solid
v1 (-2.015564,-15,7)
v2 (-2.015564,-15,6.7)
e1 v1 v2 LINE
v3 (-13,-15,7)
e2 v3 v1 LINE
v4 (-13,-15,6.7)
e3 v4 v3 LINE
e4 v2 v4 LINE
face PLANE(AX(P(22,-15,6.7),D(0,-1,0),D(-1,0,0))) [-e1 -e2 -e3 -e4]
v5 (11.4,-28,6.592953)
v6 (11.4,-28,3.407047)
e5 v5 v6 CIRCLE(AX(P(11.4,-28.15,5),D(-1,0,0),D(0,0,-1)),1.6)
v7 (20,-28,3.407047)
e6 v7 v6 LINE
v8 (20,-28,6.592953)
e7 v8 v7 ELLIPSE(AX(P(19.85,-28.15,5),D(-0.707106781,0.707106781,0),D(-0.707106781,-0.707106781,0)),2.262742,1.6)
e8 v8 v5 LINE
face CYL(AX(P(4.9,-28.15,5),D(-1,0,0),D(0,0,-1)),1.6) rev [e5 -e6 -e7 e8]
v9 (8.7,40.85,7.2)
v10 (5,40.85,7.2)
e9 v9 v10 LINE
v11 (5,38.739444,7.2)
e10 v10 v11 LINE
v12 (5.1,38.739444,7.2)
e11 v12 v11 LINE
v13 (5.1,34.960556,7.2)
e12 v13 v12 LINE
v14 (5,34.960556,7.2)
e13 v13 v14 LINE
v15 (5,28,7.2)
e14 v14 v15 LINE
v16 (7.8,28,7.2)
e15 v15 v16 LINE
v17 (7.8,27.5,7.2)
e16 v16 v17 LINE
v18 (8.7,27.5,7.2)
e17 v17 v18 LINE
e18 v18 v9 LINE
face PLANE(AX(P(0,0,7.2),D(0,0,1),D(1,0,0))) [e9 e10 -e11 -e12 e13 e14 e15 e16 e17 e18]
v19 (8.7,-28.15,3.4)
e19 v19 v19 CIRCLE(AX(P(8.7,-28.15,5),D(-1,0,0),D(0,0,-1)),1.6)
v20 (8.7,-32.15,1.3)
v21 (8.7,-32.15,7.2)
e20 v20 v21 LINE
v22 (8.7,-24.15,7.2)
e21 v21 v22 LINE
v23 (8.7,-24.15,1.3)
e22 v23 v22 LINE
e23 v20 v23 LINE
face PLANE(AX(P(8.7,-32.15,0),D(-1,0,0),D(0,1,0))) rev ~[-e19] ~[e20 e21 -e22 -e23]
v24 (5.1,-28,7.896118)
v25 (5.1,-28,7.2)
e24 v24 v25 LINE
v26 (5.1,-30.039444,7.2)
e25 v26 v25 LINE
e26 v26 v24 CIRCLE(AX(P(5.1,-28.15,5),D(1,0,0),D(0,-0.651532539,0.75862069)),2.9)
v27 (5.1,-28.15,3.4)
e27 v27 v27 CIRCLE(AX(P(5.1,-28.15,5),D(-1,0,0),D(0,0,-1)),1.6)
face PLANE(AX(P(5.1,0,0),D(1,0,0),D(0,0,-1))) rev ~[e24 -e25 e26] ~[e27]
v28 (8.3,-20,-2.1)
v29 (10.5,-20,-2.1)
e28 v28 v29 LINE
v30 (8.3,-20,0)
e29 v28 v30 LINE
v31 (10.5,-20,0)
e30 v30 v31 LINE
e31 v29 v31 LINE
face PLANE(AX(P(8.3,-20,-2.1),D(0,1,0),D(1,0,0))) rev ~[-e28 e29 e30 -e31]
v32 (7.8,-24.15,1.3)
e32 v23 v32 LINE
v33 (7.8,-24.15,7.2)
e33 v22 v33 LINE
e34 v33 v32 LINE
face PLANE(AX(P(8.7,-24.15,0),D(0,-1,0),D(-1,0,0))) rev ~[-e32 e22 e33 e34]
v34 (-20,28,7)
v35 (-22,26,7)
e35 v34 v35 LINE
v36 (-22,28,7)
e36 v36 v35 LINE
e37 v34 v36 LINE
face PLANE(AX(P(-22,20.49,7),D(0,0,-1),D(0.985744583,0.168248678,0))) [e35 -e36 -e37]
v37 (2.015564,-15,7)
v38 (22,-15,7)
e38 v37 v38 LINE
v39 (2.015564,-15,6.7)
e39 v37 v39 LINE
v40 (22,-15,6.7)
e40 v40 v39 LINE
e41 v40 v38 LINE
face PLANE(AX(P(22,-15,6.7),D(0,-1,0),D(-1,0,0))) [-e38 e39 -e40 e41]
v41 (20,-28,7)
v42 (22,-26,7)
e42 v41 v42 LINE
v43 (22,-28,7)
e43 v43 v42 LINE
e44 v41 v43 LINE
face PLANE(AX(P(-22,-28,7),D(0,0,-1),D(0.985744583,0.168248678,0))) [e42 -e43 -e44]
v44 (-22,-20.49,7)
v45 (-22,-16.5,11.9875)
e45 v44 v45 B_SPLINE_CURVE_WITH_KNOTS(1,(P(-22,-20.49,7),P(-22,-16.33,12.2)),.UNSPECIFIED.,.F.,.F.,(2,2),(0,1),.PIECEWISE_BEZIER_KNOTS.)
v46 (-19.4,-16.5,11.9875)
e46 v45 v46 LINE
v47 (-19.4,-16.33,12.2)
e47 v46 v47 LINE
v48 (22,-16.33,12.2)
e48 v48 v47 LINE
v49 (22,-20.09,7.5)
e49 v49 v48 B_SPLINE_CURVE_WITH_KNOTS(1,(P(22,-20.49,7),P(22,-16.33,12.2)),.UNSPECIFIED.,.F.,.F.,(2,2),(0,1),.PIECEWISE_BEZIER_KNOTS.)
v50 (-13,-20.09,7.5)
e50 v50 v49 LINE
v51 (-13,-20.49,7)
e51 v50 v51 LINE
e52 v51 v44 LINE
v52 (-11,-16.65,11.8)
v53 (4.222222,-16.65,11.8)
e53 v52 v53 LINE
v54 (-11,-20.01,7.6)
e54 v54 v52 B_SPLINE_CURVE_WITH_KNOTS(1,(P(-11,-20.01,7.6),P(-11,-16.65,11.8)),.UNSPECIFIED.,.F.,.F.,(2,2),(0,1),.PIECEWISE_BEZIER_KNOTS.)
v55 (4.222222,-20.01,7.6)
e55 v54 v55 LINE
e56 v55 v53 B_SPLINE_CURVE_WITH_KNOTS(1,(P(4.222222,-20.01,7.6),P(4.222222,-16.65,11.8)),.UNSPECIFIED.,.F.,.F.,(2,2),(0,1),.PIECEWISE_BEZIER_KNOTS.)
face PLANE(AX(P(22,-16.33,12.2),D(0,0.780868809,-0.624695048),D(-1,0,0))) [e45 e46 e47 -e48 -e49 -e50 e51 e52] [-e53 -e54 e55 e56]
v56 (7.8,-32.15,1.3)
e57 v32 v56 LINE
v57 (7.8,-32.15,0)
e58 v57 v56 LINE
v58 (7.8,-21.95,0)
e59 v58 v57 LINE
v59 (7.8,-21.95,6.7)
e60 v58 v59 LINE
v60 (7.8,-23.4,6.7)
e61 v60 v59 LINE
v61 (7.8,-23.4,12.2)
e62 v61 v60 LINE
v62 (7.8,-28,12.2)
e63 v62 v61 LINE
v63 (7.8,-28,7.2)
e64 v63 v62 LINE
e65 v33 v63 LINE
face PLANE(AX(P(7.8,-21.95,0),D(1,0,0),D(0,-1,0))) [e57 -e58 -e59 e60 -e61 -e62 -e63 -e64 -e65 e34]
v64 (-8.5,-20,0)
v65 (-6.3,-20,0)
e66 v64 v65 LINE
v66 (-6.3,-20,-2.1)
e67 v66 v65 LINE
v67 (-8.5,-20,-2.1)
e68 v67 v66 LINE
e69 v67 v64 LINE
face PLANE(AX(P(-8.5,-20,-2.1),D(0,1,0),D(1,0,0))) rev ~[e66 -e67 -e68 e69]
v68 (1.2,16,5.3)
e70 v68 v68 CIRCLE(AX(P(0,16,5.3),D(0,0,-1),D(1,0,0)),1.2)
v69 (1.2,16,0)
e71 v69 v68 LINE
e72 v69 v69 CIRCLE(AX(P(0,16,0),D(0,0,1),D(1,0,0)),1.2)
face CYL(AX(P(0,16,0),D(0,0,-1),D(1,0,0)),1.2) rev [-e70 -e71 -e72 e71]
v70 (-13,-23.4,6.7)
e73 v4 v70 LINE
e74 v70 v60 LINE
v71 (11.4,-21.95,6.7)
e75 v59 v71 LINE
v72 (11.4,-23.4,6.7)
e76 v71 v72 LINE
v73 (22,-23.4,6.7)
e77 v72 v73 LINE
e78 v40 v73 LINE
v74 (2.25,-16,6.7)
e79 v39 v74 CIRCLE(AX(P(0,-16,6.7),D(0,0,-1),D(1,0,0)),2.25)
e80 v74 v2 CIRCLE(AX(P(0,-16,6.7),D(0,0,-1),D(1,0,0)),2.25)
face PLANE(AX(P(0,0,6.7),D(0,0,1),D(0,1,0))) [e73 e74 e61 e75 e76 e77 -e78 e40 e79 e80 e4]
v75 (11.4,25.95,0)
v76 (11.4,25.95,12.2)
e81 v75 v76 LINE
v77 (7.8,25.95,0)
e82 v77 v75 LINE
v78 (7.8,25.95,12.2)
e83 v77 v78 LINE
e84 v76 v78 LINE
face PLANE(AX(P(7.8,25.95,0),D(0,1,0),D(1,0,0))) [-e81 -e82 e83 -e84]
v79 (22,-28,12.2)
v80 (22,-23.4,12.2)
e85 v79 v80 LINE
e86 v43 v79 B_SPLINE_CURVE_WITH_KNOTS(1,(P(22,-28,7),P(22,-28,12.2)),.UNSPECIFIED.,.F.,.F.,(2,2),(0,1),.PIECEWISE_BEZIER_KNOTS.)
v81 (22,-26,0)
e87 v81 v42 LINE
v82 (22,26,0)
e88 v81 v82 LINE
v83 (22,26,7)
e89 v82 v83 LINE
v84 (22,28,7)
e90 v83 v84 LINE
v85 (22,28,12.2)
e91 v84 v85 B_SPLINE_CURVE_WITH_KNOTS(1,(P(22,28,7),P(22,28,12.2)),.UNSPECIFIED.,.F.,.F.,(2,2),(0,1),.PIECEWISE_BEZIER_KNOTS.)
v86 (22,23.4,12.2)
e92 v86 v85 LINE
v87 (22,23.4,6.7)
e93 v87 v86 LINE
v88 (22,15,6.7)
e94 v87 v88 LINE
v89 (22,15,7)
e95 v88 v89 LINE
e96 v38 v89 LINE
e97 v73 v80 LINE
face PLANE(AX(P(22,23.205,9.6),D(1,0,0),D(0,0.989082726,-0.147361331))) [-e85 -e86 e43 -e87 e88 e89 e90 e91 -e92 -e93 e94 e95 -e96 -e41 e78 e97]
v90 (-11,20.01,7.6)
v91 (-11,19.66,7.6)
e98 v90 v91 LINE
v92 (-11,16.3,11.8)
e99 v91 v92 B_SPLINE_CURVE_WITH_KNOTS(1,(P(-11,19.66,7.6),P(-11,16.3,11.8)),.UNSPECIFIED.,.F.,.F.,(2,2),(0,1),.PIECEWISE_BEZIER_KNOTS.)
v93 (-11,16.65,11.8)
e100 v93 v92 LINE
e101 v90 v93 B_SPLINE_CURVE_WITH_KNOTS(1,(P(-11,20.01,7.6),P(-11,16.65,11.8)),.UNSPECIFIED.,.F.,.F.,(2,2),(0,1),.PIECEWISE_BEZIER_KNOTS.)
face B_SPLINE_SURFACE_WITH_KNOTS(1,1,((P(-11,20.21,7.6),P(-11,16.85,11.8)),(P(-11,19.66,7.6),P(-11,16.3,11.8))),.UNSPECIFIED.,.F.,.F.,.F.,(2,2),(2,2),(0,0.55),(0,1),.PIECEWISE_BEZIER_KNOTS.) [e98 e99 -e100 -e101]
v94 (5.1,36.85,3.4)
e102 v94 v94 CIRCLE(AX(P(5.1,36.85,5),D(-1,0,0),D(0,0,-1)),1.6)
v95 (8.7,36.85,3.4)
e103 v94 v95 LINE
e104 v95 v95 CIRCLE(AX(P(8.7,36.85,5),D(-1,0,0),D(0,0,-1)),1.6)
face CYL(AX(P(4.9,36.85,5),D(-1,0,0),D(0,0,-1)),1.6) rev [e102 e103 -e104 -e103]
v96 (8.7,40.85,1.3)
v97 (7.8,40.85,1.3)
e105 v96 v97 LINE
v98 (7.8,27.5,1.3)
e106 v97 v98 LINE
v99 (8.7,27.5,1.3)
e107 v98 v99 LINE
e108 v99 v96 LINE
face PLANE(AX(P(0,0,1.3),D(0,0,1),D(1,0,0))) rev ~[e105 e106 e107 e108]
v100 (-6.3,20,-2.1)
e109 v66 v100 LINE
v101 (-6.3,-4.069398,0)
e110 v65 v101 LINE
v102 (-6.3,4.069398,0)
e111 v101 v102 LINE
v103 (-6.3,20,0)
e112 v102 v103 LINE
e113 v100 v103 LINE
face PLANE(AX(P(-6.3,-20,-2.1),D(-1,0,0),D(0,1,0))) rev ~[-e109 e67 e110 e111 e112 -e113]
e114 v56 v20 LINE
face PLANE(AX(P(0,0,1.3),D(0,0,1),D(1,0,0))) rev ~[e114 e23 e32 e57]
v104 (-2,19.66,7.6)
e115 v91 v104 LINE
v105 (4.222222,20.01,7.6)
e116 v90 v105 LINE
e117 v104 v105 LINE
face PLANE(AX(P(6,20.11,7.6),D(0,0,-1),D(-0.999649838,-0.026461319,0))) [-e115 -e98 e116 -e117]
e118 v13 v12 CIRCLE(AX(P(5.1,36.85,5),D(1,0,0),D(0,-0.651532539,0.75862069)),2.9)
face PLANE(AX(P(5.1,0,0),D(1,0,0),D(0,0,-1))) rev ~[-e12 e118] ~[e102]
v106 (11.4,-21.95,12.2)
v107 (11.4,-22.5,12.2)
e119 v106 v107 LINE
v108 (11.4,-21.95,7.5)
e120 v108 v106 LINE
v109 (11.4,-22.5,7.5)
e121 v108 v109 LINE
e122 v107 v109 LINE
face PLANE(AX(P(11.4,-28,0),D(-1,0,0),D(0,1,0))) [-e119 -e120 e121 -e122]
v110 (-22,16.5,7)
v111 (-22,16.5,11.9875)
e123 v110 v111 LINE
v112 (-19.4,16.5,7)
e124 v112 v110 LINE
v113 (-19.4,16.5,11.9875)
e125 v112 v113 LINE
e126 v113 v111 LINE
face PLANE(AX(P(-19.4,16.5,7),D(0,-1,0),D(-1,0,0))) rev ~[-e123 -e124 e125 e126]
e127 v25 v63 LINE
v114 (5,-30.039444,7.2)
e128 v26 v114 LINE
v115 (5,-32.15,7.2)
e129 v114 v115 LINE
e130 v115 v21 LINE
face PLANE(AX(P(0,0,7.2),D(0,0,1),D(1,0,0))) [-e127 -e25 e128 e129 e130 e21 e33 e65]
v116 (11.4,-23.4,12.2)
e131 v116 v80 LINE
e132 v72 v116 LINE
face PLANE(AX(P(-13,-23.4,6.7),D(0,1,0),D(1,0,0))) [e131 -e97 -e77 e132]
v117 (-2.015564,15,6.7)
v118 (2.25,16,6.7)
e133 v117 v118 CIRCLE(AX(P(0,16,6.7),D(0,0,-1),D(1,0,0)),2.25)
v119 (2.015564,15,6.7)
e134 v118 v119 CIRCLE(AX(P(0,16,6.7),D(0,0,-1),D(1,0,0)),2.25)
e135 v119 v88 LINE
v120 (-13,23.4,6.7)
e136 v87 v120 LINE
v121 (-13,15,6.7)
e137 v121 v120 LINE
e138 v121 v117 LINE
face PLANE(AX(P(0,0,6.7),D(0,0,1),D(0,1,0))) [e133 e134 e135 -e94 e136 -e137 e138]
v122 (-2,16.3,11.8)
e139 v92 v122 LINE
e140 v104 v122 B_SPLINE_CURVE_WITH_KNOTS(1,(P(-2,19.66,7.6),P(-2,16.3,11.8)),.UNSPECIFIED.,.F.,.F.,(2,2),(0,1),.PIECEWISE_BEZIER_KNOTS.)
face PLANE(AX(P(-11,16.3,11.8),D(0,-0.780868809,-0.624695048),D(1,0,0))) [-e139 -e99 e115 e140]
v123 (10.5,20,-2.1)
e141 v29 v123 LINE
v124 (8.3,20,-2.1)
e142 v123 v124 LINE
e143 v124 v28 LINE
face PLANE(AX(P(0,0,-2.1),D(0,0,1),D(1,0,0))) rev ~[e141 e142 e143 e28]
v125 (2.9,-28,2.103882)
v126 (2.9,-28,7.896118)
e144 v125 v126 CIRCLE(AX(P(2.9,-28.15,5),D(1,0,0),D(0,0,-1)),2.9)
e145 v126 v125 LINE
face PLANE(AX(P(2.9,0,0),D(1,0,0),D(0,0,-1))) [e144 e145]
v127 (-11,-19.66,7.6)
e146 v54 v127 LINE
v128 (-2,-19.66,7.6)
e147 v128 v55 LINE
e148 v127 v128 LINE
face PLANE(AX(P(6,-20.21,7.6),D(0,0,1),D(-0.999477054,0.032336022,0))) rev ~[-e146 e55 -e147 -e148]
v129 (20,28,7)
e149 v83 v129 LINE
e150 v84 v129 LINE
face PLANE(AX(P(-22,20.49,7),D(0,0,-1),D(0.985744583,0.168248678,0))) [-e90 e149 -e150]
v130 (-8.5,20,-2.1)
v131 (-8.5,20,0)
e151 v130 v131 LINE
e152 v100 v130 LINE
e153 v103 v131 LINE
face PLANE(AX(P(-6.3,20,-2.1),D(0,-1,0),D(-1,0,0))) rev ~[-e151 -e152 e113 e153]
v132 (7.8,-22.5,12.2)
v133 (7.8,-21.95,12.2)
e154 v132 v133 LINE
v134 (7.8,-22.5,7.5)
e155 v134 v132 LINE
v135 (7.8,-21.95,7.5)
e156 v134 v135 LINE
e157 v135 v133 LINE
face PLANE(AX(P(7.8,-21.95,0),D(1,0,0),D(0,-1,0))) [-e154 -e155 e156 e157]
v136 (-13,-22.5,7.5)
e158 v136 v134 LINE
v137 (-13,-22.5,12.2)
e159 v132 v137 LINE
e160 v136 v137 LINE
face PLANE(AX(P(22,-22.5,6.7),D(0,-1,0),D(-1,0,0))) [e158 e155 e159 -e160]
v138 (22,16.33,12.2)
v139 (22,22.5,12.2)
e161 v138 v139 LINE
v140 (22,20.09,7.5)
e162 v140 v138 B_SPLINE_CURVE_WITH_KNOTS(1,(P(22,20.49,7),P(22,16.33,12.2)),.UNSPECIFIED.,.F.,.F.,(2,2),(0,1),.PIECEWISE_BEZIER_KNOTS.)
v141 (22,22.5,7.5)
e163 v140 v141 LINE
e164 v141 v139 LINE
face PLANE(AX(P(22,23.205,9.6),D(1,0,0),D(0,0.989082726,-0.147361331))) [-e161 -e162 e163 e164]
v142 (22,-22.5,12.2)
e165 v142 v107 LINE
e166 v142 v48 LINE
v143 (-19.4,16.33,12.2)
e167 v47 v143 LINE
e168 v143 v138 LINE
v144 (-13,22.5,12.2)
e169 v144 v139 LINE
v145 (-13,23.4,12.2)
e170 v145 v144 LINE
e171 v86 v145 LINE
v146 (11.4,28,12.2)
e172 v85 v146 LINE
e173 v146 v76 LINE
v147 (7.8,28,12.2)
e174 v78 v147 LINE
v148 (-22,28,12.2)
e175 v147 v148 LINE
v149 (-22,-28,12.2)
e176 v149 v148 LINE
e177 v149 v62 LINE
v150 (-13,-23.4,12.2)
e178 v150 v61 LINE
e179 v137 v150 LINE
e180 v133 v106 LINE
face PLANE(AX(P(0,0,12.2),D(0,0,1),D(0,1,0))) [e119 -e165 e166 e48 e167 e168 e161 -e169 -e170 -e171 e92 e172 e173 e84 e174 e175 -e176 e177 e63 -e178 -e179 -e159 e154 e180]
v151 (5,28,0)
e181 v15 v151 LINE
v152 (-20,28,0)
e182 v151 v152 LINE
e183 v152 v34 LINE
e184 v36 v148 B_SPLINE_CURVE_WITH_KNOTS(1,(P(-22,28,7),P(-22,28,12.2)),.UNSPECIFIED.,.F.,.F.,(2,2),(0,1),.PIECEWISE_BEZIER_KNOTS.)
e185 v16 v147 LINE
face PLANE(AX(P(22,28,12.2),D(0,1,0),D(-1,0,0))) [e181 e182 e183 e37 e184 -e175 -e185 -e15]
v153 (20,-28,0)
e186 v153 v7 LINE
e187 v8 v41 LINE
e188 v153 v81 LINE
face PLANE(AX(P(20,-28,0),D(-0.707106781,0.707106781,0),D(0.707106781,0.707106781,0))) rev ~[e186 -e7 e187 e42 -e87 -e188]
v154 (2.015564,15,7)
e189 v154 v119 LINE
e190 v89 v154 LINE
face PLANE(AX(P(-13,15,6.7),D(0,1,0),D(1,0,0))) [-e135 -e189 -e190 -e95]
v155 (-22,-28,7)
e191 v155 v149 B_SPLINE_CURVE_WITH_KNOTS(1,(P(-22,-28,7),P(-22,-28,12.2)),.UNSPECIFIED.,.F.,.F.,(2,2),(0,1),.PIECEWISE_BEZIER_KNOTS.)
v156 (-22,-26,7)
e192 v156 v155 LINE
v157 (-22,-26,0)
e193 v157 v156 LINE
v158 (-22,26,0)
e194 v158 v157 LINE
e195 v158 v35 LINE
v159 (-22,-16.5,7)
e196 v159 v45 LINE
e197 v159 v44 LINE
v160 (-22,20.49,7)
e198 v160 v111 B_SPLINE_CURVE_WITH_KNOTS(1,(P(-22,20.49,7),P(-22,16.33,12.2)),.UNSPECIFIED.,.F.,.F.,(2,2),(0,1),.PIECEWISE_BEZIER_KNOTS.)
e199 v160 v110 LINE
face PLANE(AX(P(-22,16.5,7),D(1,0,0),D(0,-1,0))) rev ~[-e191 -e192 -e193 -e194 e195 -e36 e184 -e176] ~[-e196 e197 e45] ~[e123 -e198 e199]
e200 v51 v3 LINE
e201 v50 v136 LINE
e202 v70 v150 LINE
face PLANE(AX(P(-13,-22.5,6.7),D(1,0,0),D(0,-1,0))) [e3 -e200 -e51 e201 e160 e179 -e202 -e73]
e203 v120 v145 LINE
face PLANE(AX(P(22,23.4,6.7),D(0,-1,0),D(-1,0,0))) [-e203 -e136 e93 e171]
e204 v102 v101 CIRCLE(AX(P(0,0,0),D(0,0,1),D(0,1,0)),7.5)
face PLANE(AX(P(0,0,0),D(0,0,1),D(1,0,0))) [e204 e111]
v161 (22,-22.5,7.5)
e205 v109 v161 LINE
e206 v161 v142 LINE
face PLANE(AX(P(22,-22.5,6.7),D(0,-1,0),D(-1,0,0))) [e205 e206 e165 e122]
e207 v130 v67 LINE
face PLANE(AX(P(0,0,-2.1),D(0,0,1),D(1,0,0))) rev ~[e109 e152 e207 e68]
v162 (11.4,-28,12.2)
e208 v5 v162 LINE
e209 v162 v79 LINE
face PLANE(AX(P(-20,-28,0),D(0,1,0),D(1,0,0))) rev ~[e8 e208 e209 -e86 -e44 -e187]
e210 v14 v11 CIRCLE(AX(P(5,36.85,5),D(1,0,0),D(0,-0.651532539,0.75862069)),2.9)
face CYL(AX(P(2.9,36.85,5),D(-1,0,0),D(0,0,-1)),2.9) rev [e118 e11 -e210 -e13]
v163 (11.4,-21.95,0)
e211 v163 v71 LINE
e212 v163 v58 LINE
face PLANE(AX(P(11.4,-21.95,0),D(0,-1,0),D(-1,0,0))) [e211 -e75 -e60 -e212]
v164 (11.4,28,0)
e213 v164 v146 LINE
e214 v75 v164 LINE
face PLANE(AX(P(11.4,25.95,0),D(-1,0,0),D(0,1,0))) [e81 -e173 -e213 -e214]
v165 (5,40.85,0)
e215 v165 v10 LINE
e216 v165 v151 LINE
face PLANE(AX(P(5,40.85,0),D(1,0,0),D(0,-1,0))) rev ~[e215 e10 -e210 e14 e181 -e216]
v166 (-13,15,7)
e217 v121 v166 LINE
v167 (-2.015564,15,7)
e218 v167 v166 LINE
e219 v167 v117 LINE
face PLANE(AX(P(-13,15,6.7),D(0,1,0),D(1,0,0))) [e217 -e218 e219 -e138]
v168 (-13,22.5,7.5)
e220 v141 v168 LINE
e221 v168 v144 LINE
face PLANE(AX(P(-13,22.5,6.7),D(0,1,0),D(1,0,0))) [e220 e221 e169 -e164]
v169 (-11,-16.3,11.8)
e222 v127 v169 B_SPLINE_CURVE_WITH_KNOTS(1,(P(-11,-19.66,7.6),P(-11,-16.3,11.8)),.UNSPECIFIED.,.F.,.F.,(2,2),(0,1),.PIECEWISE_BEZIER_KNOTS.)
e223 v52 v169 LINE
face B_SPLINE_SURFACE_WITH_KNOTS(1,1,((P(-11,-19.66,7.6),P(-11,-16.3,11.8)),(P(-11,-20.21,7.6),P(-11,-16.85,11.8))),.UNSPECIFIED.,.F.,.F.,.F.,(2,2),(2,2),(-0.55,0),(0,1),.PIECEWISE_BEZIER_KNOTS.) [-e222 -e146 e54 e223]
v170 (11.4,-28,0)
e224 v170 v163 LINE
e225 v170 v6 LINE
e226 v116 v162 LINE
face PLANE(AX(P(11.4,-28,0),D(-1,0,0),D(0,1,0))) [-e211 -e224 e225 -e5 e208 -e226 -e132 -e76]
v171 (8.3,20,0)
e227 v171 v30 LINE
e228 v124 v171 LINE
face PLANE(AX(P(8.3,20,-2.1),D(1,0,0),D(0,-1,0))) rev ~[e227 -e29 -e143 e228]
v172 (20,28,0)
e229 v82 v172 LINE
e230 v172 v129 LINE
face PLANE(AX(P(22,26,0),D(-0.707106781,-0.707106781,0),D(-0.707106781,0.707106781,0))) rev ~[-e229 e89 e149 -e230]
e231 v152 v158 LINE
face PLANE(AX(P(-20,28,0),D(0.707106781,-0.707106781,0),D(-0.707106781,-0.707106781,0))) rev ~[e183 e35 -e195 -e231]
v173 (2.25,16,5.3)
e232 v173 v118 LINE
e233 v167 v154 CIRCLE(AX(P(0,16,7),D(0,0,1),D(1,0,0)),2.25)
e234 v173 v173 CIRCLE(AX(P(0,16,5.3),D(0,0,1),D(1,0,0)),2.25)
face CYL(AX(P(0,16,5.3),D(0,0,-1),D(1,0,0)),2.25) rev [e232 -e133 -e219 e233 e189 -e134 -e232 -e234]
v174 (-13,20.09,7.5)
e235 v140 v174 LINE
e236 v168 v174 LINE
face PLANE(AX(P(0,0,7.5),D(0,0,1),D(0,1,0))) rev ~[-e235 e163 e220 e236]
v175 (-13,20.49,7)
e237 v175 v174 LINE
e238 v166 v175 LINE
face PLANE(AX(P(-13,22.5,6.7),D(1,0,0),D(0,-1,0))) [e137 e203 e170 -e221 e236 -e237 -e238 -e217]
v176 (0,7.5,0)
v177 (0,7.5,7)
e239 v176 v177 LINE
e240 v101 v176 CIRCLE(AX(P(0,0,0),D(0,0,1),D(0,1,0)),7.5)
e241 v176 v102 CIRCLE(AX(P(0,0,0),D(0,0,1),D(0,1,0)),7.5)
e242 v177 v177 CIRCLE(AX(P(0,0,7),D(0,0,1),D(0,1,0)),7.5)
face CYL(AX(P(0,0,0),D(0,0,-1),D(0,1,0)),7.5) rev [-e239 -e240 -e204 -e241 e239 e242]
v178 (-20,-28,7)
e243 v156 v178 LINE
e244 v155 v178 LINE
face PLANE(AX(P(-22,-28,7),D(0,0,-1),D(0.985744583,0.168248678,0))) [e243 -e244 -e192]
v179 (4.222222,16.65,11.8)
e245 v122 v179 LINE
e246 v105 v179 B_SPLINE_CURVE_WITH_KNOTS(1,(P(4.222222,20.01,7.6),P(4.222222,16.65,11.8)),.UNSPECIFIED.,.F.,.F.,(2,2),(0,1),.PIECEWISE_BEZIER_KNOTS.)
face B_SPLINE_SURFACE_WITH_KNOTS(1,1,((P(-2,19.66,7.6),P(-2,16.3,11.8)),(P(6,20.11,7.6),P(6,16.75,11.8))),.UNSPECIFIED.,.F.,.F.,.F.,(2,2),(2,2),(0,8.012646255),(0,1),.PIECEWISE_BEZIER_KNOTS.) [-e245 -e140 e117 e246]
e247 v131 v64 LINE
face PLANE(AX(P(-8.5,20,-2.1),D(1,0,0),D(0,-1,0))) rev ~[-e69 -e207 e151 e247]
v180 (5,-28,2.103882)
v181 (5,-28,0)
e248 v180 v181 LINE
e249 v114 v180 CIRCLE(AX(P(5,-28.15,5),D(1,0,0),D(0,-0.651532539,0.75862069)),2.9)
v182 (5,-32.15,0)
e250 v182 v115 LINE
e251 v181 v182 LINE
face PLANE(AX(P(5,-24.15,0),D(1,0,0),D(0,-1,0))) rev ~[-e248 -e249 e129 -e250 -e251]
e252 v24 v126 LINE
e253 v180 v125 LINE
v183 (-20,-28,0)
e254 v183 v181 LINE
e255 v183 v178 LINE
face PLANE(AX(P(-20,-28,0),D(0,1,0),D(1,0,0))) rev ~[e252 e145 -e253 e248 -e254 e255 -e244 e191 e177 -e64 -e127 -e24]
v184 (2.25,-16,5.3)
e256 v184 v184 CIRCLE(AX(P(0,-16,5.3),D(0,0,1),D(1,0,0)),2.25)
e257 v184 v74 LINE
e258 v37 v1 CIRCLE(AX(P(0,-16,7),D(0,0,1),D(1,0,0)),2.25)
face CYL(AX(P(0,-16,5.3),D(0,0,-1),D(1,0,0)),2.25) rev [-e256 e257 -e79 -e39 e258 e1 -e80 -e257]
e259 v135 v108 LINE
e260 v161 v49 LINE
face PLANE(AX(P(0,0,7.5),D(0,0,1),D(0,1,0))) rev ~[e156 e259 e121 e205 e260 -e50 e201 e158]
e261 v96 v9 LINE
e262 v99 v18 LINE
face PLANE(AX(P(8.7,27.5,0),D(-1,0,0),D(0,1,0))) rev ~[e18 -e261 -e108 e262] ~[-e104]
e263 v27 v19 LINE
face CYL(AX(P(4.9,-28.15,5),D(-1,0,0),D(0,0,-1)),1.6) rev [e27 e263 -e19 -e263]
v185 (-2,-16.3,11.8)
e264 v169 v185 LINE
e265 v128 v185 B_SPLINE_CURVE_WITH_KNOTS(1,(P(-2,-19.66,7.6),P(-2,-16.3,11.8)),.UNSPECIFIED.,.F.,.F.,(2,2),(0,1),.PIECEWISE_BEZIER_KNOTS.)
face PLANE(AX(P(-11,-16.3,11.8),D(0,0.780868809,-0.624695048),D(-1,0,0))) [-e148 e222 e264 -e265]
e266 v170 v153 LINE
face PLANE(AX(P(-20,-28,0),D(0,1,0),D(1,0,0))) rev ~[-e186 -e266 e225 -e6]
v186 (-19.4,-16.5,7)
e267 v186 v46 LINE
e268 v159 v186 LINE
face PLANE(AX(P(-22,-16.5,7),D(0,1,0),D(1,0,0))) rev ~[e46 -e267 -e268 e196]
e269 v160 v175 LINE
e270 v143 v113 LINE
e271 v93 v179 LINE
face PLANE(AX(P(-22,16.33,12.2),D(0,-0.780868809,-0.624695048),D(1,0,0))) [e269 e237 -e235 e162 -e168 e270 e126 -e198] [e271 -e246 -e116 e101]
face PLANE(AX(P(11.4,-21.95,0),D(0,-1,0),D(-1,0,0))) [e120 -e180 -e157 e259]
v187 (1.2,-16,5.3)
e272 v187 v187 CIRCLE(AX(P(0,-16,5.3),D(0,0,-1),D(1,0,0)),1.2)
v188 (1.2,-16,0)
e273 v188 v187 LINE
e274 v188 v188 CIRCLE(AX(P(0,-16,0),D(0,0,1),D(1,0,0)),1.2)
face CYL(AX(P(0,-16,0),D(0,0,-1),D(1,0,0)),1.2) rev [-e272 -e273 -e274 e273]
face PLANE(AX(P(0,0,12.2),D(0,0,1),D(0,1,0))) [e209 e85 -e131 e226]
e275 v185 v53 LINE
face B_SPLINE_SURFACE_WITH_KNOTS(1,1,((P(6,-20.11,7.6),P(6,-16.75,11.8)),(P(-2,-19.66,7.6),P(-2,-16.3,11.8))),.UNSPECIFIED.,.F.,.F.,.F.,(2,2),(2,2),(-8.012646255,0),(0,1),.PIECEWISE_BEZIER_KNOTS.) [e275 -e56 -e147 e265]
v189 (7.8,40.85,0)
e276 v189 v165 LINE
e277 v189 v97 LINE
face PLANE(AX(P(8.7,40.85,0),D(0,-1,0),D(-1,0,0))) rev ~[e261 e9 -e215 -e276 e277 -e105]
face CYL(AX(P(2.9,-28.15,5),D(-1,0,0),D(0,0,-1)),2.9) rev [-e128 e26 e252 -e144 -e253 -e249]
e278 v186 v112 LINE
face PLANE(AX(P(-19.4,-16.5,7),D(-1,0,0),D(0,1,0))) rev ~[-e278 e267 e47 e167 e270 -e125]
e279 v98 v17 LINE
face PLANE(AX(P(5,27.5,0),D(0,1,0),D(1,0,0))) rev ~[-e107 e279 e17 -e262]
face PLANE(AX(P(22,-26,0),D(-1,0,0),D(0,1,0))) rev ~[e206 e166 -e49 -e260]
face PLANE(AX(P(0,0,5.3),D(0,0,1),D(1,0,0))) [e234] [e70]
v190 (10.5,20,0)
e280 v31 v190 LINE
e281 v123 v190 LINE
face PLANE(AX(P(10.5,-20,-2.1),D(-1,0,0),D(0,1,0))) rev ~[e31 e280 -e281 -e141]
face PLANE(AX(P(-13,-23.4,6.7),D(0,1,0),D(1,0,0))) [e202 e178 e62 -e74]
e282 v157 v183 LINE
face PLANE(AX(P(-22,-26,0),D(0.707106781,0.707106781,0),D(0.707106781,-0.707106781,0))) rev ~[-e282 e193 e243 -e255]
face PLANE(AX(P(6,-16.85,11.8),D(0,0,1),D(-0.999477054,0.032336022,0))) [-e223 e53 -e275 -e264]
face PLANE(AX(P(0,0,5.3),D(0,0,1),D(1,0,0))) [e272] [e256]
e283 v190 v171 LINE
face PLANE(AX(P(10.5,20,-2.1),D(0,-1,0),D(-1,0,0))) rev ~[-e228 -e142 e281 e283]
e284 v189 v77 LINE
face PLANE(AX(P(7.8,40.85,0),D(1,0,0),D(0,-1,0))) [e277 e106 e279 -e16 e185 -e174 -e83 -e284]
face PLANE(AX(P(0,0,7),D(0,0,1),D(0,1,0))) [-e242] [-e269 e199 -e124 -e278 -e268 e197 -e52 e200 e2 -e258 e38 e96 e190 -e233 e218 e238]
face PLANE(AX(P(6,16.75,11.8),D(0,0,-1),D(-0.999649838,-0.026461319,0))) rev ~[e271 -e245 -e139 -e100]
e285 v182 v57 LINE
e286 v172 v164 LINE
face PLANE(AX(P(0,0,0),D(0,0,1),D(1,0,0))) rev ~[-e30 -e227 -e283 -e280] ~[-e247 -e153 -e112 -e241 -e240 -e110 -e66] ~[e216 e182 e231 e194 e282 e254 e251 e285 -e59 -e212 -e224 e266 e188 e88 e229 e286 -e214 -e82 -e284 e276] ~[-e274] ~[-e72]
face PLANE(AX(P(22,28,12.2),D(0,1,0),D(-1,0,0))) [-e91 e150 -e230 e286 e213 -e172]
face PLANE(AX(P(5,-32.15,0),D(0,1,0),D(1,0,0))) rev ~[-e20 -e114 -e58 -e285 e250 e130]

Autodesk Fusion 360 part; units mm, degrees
ref_plane "工作平面1" through (0, 0, 0) normal (0, 0, 1) x (1, 0, 0)
sketch "草图1" plane through (0, 0, 0) normal (0, 0, 1) x (1, 0, 0)
  line L0 (-26, -22) -> (26, -22)
  line L1 (26, -22) -> (28, -20)
  line L2 (28, -20) -> (28, 20)
  line L3 (28, 20) -> (26, 22)
  line L4 (26, 22) -> (-26, 22)
  line L5 (-26, 22) -> (-28, 20)
  line L6 (-28, 20) -> (-28, -20)
  line L7 (-28, -20) -> (-26, -22)
extrude "56 x 44 x 7 platform" add sketch "草图1" along normal blind 7
ref_plane "工作平面2" through (0, 0, 7) normal (0, 0, 1) x (1, 0, 0)
sketch "草图2" plane through (0, 0, 7) normal (0, 0, 1) x (1, 0, 0)
  line L0 (-28, -22) -> (-20.49, -22)
  line L1 (-20.49, -22) -> (-20.49, 22)
  line L2 (-20.49, 22) -> (-28, 22)
  line L3 (-28, 22) -> (-28, -22)
ref_plane "工作平面3" through (0, 0, 12.2) normal (0, 0, 1) x (1, 0, 0)
sketch "草图3" plane through (0, 0, 12.2) normal (0, 0, 1) x (1, 0, 0)
  line L0 (-28, -22) -> (-16.33, -22)
  line L1 (-16.33, -22) -> (-16.33, 22)
  line L2 (-16.33, 22) -> (-28, 22)
  line L3 (-28, 22) -> (-28, -22)
loft "Dovetail retaining rail 0.8 to 1 -1" add profiles "草图2", "草图3" section 1 section 2
ref_plane "工作平面4" through (0, 0, 6.7) normal (0, 0, 1) x (1, 0, 0)
sketch "草图4" plane through (0, 0, 6.7) normal (0, 0, 1) x (1, 0, 0)
  line L0 (-23.4, -22) -> (-22.5, -22)
  line L1 (-22.5, -22) -> (-22.5, 13)
  line L2 (-22.5, 13) -> (-23.4, 13)
  line L3 (-23.4, 13) -> (-23.4, -22)
extrude "0.9 mm longitudinal flexure slot -1" cut sketch "草图4" along normal blind 5.8
ref_plane "工作平面5" through (0, 0, 6.7) normal (0, 0, 1) x (1, 0, 0)
sketch "草图5" plane through (0, 0, 6.7) normal (0, 0, 1) x (1, 0, 0)
  line L0 (-22.5, -22) -> (-15, -22)
  line L1 (-15, -22) -> (-15, 13)
  line L2 (-15, 13) -> (-22.5, 13)
  line L3 (-22.5, 13) -> (-22.5, -22)
extrude "0.8 mm flexure underside relief -1" cut sketch "草图5" along normal blind 0.8
ref_plane "工作平面6" through (0, 0, 7.6) normal (0, 0, 1) x (1, 0, 0)
sketch "草图6" plane through (0, 0, 7.6) normal (0, 0, 1) x (1, 0, 0)
  line L0 (-20.21, -6) -> (-20.21, 11)
  line L1 (-20.21, 11) -> (-19.66, 11)
  line L2 (-19.66, 11) -> (-19.66, 2)
  line L3 (-19.66, 2) -> (-20.11, -6)
  line L4 (-20.11, -6) -> (-20.21, -6)
ref_plane "工作平面7" through (0, 0, 11.8) normal (0, 0, 1) x (1, 0, 0)
sketch "草图7" plane through (0, 0, 11.8) normal (0, 0, 1) x (1, 0, 0)
  line L0 (-16.85, -6) -> (-16.85, 11)
  line L1 (-16.85, 11) -> (-16.3, 11)
  line L2 (-16.3, 11) -> (-16.3, 2)
  line L3 (-16.3, 2) -> (-16.75, -6)
  line L4 (-16.75, -6) -> (-16.85, -6)
loft "Tapered friction contact rib -1" add profiles "草图6", "草图7" section 1 section 2
ref_plane "工作平面8" through (0, 0, 7) normal (0, 0, 1) x (1, 0, 0)
sketch "草图8" plane through (0, 0, 7) normal (0, 0, 1) x (1, 0, 0)
  line L0 (20.49, -22) -> (28, -22)
  line L1 (28, -22) -> (28, 22)
  line L2 (28, 22) -> (20.49, 22)
  line L3 (20.49, 22) -> (20.49, -22)
ref_plane "工作平面9" through (0, 0, 12.2) normal (0, 0, 1) x (1, 0, 0)
sketch "草图9" plane through (0, 0, 12.2) normal (0, 0, 1) x (1, 0, 0)
  line L0 (16.33, -22) -> (28, -22)
  line L1 (28, -22) -> (28, 22)
  line L2 (28, 22) -> (16.33, 22)
  line L3 (16.33, 22) -> (16.33, -22)
loft "Dovetail retaining rail 0.8 to 1 1" add profiles "草图8", "草图9" section 1 section 2
ref_plane "工作平面10" through (0, 0, 6.7) normal (0, 0, 1) x (1, 0, 0)
sketch "草图10" plane through (0, 0, 6.7) normal (0, 0, 1) x (1, 0, 0)
  line L0 (22.5, -22) -> (23.4, -22)
  line L1 (23.4, -22) -> (23.4, 13)
  line L2 (23.4, 13) -> (22.5, 13)
  line L3 (22.5, 13) -> (22.5, -22)
extrude "0.9 mm longitudinal flexure slot 1" cut sketch "草图10" along normal blind 5.8
ref_plane "工作平面11" through (0, 0, 6.7) normal (0, 0, 1) x (1, 0, 0)
sketch "草图11" plane through (0, 0, 6.7) normal (0, 0, 1) x (1, 0, 0)
  line L0 (15, -22) -> (22.5, -22)
  line L1 (22.5, -22) -> (22.5, 13)
  line L2 (22.5, 13) -> (15, 13)
  line L3 (15, 13) -> (15, -22)
extrude "0.8 mm flexure underside relief 1" cut sketch "草图11" along normal blind 0.8
ref_plane "工作平面12" through (0, 0, 7.6) normal (0, 0, 1) x (1, 0, 0)
sketch "草图12" plane through (0, 0, 7.6) normal (0, 0, 1) x (1, 0, 0)
  line L0 (20.21, -6) -> (20.21, 11)
  line L1 (20.21, 11) -> (19.66, 11)
  line L2 (19.66, 11) -> (19.66, 2)
  line L3 (19.66, 2) -> (20.11, -6)
  line L4 (20.11, -6) -> (20.21, -6)
ref_plane "工作平面13" through (0, 0, 11.8) normal (0, 0, 1) x (1, 0, 0)
sketch "草图13" plane through (0, 0, 11.8) normal (0, 0, 1) x (1, 0, 0)
  line L0 (16.85, -6) -> (16.85, 11)
  line L1 (16.85, 11) -> (16.3, 11)
  line L2 (16.3, 11) -> (16.3, 2)
  line L3 (16.3, 2) -> (16.75, -6)
  line L4 (16.75, -6) -> (16.85, -6)
loft "Tapered friction contact rib 1" add profiles "草图12", "草图13" section 1 section 2
ref_plane "工作平面14" through (0, 0, 7) normal (0, 0, 1) x (1, 0, 0)
sketch "草图14" plane through (0, 0, 7) normal (0, 0, 1) x (1, 0, 0)
  line L0 (-16.5, 19.4) -> (16.5, 19.4)
  line L1 (16.5, 19.4) -> (16.5, 22)
  line L2 (16.5, 22) -> (-16.5, 22)
  line L3 (-16.5, 22) -> (-16.5, 19.4)
extrude "Closed insertion end stop" add sketch "草图14" along normal blind 5.2
ref_plane "工作平面15" through (0, 0, 0) normal (0, 0, 1) x (1, 0, 0)
sketch "草图15" plane through (0, 0, 0) normal (0, 0, 1) x (1, 0, 0)
  circle A0 centre (0, 0) radius 7.5
extrude "15 mm screw and driver access" cut sketch "草图15" along normal blind 7
move_body "Align camera long edge with gimbal arm - 90 degrees" bodies 1 to x (0, 1, 0) y (-1, 0, 0) z (0, 0, 1) at (0, 0, 0)
ref_plane "工作平面16" through (0, 0, 0) normal (0, 0, 1) x (1, 0, 0)
sketch "草图16" plane through (0, 0, 0) normal (0, 0, 1) x (1, 0, 0)
  line L0 (7.8, -28) -> (11.4, -28)
  line L1 (11.4, -28) -> (11.4, -21.95)
  line L2 (11.4, -21.95) -> (7.8, -21.95)
  line L3 (7.8, -21.95) -> (7.8, -28)
extrude "Clear original raised tab and root fillet" cut sketch "草图16" along normal blind 12.3
ref_plane "工作平面17" through (0, 0, 0) normal (0, 0, 1) x (1, 0, 0)
sketch "草图17" plane through (0, 0, 0) normal (0, 0, 1) x (1, 0, 0)
  line L0 (7.8, 25.95) -> (11.4, 25.95)
  line L1 (11.4, 25.95) -> (11.4, 28)
  line L2 (11.4, 28) -> (7.8, 28)
  line L3 (7.8, 28) -> (7.8, 25.95)
extrude "Clear original raised tab and root fillet (1)" cut sketch "草图17" along normal blind 12.3
ref_plane "工作平面18" through (0, 0, -2.1) normal (0, 0, 1) x (1, 0, 0)
sketch "草图18" plane through (0, 0, -2.1) normal (0, 0, 1) x (1, 0, 0)
  line L0 (-8.5, -20) -> (-6.3, -20)
  line L1 (-6.3, -20) -> (-6.3, 20)
  line L2 (-6.3, 20) -> (-8.5, 20)
  line L3 (-8.5, 20) -> (-8.5, -20)
extrude "Arm lateral locating shoulder" add sketch "草图18" along normal blind 2.1
ref_plane "工作平面19" through (0, 0, -2.1) normal (0, 0, 1) x (1, 0, 0)
sketch "草图19" plane through (0, 0, -2.1) normal (0, 0, 1) x (1, 0, 0)
  line L0 (8.3, -20) -> (10.5, -20)
  line L1 (10.5, -20) -> (10.5, 20)
  line L2 (10.5, 20) -> (8.3, 20)
  line L3 (8.3, 20) -> (8.3, -20)
extrude "Arm lateral locating shoulder (1)" add sketch "草图19" along normal blind 2.1
ref_plane "工作平面20" through (0, 0, 0) normal (0, 0, 1) x (1, 0, 0)
sketch "草图20" plane through (0, 0, 0) normal (0, 0, 1) x (1, 0, 0)
  circle A0 centre (0, -16) radius 1.2
extrude "M2 through clearance at y -16.0" cut sketch "草图20" along normal blind 7
ref_plane "工作平面21" through (0, 0, 5.3) normal (0, 0, 1) x (1, 0, 0)
sketch "草图21" plane through (0, 0, 5.3) normal (0, 0, 1) x (1, 0, 0)
  circle A0 centre (0, -16) radius 2.25
extrude "M2 head recess at y -16.0" cut sketch "草图21" along normal blind 1.7
ref_plane "工作平面22" through (0, 0, 0) normal (0, 0, 1) x (1, 0, 0)
sketch "草图22" plane through (0, 0, 0) normal (0, 0, 1) x (1, 0, 0)
  circle A0 centre (0, 16) radius 1.2
extrude "M2 through clearance at y 16.0" cut sketch "草图22" along normal blind 7
ref_plane "工作平面23" through (0, 0, 5.3) normal (0, 0, 1) x (1, 0, 0)
sketch "草图23" plane through (0, 0, 5.3) normal (0, 0, 1) x (1, 0, 0)
  circle A0 centre (0, 16) radius 2.25
extrude "M2 head recess at y 16.0" cut sketch "草图23" along normal blind 1.7
ref_plane "工作平面24" through (0, 0, 0) normal (0, 0, 1) x (1, 0, 0)
sketch "草图24" plane through (0, 0, 0) normal (0, 0, 1) x (1, 0, 0)
  line L0 (5, -32.15) -> (8.7, -32.15)
  line L1 (8.7, -32.15) -> (8.7, -24.15)
  line L2 (8.7, -24.15) -> (5, -24.15)
  line L3 (5, -24.15) -> (5, -32.15)
extrude "Ear for original 3.2 mm side hole at arm y -28.15" add sketch "草图24" along normal blind 7.2
ref_plane "工作平面25" through (0, 0, 0) normal (0, 0, 1) x (1, 0, 0)
sketch "草图25" plane through (0, 0, 0) normal (0, 0, 1) x (1, 0, 0)
  line L0 (7.8, -32.15) -> (8.9, -32.15)
  line L1 (8.9, -32.15) -> (8.9, -24.15)
  line L2 (8.9, -24.15) -> (7.8, -24.15)
  line L3 (7.8, -24.15) -> (7.8, -32.15)
extrude "Ear relief around original arm root radius" cut sketch "草图25" along normal blind 1.3
ref_plane "工作平面26" through (4.9, 0, 0) normal (1, 0, 0) x (0, 1, 0)
sketch "草图26" plane through (4.9, 0, 0) normal (1, 0, 0) x (0, 0, -1)
  circle A0 centre (-5, -28.15) radius 1.6
extrude "Side rivet ear clearance" cut sketch "草图26" along normal blind 4
ref_plane "工作平面27" through (0, 0, 0) normal (0, 0, 1) x (1, 0, 0)
sketch "草图27" plane through (0, 0, 0) normal (0, 0, 1) x (1, 0, 0)
  line L0 (5, 27.5) -> (8.7, 27.5)
  line L1 (8.7, 27.5) -> (8.7, 40.85)
  line L2 (8.7, 40.85) -> (5, 40.85)
  line L3 (5, 40.85) -> (5, 27.5)
extrude "Ear for original 3.2 mm side hole at arm y 36.85" add sketch "草图27" along normal blind 7.2
ref_plane "工作平面28" through (0, 0, 0) normal (0, 0, 1) x (1, 0, 0)
sketch "草图28" plane through (0, 0, 0) normal (0, 0, 1) x (1, 0, 0)
  line L0 (7.8, 27.5) -> (8.9, 27.5)
  line L1 (8.9, 27.5) -> (8.9, 40.85)
  line L2 (8.9, 40.85) -> (7.8, 40.85)
  line L3 (7.8, 40.85) -> (7.8, 27.5)
extrude "Ear relief around original arm root radius (1)" cut sketch "草图28" along normal blind 1.3
ref_plane "工作平面29" through (4.9, 0, 0) normal (1, 0, 0) x (0, 1, 0)
sketch "草图29" plane through (4.9, 0, 0) normal (1, 0, 0) x (0, 0, -1)
  circle A0 centre (-5, 36.85) radius 1.6
extrude "Side rivet ear clearance (1)" cut sketch "草图29" along normal blind 4
ref_plane "工作平面30" through (4.9, 0, 0) normal (1, 0, 0) x (0, 1, 0)
sketch "草图30" plane through (4.9, 0, 0) normal (1, 0, 0) x (0, 0, -1)
  circle A0 centre (-5, -28.15) radius 1.6
extrude "Side rivet full passage clearance" cut sketch "草图30" along normal blind 20
ref_plane "工作平面31" through (2.9, 0, 0) normal (1, 0, 0) x (0, 1, 0)
sketch "草图31" plane through (2.9, 0, 0) normal (1, 0, 0) x (0, 0, -1)
  circle A0 centre (-5, -28.15) radius 2.9
extrude "Side rivet flange counterbore" cut sketch "草图31" along normal blind 2.2
ref_plane "工作平面32" through (4.9, 0, 0) normal (1, 0, 0) x (0, 1, 0)
sketch "草图32" plane through (4.9, 0, 0) normal (1, 0, 0) x (0, 0, -1)
  circle A0 centre (-5, 36.85) radius 1.6
ref_plane "工作平面33" through (2.9, 0, 0) normal (1, 0, 0) x (0, 1, 0)
sketch "草图33" plane through (2.9, 0, 0) normal (1, 0, 0) x (0, 0, -1)
  circle A0 centre (-5, 36.85) radius 2.9
extrude "Side rivet flange counterbore (1)" cut sketch "草图33" along normal blind 2.2
